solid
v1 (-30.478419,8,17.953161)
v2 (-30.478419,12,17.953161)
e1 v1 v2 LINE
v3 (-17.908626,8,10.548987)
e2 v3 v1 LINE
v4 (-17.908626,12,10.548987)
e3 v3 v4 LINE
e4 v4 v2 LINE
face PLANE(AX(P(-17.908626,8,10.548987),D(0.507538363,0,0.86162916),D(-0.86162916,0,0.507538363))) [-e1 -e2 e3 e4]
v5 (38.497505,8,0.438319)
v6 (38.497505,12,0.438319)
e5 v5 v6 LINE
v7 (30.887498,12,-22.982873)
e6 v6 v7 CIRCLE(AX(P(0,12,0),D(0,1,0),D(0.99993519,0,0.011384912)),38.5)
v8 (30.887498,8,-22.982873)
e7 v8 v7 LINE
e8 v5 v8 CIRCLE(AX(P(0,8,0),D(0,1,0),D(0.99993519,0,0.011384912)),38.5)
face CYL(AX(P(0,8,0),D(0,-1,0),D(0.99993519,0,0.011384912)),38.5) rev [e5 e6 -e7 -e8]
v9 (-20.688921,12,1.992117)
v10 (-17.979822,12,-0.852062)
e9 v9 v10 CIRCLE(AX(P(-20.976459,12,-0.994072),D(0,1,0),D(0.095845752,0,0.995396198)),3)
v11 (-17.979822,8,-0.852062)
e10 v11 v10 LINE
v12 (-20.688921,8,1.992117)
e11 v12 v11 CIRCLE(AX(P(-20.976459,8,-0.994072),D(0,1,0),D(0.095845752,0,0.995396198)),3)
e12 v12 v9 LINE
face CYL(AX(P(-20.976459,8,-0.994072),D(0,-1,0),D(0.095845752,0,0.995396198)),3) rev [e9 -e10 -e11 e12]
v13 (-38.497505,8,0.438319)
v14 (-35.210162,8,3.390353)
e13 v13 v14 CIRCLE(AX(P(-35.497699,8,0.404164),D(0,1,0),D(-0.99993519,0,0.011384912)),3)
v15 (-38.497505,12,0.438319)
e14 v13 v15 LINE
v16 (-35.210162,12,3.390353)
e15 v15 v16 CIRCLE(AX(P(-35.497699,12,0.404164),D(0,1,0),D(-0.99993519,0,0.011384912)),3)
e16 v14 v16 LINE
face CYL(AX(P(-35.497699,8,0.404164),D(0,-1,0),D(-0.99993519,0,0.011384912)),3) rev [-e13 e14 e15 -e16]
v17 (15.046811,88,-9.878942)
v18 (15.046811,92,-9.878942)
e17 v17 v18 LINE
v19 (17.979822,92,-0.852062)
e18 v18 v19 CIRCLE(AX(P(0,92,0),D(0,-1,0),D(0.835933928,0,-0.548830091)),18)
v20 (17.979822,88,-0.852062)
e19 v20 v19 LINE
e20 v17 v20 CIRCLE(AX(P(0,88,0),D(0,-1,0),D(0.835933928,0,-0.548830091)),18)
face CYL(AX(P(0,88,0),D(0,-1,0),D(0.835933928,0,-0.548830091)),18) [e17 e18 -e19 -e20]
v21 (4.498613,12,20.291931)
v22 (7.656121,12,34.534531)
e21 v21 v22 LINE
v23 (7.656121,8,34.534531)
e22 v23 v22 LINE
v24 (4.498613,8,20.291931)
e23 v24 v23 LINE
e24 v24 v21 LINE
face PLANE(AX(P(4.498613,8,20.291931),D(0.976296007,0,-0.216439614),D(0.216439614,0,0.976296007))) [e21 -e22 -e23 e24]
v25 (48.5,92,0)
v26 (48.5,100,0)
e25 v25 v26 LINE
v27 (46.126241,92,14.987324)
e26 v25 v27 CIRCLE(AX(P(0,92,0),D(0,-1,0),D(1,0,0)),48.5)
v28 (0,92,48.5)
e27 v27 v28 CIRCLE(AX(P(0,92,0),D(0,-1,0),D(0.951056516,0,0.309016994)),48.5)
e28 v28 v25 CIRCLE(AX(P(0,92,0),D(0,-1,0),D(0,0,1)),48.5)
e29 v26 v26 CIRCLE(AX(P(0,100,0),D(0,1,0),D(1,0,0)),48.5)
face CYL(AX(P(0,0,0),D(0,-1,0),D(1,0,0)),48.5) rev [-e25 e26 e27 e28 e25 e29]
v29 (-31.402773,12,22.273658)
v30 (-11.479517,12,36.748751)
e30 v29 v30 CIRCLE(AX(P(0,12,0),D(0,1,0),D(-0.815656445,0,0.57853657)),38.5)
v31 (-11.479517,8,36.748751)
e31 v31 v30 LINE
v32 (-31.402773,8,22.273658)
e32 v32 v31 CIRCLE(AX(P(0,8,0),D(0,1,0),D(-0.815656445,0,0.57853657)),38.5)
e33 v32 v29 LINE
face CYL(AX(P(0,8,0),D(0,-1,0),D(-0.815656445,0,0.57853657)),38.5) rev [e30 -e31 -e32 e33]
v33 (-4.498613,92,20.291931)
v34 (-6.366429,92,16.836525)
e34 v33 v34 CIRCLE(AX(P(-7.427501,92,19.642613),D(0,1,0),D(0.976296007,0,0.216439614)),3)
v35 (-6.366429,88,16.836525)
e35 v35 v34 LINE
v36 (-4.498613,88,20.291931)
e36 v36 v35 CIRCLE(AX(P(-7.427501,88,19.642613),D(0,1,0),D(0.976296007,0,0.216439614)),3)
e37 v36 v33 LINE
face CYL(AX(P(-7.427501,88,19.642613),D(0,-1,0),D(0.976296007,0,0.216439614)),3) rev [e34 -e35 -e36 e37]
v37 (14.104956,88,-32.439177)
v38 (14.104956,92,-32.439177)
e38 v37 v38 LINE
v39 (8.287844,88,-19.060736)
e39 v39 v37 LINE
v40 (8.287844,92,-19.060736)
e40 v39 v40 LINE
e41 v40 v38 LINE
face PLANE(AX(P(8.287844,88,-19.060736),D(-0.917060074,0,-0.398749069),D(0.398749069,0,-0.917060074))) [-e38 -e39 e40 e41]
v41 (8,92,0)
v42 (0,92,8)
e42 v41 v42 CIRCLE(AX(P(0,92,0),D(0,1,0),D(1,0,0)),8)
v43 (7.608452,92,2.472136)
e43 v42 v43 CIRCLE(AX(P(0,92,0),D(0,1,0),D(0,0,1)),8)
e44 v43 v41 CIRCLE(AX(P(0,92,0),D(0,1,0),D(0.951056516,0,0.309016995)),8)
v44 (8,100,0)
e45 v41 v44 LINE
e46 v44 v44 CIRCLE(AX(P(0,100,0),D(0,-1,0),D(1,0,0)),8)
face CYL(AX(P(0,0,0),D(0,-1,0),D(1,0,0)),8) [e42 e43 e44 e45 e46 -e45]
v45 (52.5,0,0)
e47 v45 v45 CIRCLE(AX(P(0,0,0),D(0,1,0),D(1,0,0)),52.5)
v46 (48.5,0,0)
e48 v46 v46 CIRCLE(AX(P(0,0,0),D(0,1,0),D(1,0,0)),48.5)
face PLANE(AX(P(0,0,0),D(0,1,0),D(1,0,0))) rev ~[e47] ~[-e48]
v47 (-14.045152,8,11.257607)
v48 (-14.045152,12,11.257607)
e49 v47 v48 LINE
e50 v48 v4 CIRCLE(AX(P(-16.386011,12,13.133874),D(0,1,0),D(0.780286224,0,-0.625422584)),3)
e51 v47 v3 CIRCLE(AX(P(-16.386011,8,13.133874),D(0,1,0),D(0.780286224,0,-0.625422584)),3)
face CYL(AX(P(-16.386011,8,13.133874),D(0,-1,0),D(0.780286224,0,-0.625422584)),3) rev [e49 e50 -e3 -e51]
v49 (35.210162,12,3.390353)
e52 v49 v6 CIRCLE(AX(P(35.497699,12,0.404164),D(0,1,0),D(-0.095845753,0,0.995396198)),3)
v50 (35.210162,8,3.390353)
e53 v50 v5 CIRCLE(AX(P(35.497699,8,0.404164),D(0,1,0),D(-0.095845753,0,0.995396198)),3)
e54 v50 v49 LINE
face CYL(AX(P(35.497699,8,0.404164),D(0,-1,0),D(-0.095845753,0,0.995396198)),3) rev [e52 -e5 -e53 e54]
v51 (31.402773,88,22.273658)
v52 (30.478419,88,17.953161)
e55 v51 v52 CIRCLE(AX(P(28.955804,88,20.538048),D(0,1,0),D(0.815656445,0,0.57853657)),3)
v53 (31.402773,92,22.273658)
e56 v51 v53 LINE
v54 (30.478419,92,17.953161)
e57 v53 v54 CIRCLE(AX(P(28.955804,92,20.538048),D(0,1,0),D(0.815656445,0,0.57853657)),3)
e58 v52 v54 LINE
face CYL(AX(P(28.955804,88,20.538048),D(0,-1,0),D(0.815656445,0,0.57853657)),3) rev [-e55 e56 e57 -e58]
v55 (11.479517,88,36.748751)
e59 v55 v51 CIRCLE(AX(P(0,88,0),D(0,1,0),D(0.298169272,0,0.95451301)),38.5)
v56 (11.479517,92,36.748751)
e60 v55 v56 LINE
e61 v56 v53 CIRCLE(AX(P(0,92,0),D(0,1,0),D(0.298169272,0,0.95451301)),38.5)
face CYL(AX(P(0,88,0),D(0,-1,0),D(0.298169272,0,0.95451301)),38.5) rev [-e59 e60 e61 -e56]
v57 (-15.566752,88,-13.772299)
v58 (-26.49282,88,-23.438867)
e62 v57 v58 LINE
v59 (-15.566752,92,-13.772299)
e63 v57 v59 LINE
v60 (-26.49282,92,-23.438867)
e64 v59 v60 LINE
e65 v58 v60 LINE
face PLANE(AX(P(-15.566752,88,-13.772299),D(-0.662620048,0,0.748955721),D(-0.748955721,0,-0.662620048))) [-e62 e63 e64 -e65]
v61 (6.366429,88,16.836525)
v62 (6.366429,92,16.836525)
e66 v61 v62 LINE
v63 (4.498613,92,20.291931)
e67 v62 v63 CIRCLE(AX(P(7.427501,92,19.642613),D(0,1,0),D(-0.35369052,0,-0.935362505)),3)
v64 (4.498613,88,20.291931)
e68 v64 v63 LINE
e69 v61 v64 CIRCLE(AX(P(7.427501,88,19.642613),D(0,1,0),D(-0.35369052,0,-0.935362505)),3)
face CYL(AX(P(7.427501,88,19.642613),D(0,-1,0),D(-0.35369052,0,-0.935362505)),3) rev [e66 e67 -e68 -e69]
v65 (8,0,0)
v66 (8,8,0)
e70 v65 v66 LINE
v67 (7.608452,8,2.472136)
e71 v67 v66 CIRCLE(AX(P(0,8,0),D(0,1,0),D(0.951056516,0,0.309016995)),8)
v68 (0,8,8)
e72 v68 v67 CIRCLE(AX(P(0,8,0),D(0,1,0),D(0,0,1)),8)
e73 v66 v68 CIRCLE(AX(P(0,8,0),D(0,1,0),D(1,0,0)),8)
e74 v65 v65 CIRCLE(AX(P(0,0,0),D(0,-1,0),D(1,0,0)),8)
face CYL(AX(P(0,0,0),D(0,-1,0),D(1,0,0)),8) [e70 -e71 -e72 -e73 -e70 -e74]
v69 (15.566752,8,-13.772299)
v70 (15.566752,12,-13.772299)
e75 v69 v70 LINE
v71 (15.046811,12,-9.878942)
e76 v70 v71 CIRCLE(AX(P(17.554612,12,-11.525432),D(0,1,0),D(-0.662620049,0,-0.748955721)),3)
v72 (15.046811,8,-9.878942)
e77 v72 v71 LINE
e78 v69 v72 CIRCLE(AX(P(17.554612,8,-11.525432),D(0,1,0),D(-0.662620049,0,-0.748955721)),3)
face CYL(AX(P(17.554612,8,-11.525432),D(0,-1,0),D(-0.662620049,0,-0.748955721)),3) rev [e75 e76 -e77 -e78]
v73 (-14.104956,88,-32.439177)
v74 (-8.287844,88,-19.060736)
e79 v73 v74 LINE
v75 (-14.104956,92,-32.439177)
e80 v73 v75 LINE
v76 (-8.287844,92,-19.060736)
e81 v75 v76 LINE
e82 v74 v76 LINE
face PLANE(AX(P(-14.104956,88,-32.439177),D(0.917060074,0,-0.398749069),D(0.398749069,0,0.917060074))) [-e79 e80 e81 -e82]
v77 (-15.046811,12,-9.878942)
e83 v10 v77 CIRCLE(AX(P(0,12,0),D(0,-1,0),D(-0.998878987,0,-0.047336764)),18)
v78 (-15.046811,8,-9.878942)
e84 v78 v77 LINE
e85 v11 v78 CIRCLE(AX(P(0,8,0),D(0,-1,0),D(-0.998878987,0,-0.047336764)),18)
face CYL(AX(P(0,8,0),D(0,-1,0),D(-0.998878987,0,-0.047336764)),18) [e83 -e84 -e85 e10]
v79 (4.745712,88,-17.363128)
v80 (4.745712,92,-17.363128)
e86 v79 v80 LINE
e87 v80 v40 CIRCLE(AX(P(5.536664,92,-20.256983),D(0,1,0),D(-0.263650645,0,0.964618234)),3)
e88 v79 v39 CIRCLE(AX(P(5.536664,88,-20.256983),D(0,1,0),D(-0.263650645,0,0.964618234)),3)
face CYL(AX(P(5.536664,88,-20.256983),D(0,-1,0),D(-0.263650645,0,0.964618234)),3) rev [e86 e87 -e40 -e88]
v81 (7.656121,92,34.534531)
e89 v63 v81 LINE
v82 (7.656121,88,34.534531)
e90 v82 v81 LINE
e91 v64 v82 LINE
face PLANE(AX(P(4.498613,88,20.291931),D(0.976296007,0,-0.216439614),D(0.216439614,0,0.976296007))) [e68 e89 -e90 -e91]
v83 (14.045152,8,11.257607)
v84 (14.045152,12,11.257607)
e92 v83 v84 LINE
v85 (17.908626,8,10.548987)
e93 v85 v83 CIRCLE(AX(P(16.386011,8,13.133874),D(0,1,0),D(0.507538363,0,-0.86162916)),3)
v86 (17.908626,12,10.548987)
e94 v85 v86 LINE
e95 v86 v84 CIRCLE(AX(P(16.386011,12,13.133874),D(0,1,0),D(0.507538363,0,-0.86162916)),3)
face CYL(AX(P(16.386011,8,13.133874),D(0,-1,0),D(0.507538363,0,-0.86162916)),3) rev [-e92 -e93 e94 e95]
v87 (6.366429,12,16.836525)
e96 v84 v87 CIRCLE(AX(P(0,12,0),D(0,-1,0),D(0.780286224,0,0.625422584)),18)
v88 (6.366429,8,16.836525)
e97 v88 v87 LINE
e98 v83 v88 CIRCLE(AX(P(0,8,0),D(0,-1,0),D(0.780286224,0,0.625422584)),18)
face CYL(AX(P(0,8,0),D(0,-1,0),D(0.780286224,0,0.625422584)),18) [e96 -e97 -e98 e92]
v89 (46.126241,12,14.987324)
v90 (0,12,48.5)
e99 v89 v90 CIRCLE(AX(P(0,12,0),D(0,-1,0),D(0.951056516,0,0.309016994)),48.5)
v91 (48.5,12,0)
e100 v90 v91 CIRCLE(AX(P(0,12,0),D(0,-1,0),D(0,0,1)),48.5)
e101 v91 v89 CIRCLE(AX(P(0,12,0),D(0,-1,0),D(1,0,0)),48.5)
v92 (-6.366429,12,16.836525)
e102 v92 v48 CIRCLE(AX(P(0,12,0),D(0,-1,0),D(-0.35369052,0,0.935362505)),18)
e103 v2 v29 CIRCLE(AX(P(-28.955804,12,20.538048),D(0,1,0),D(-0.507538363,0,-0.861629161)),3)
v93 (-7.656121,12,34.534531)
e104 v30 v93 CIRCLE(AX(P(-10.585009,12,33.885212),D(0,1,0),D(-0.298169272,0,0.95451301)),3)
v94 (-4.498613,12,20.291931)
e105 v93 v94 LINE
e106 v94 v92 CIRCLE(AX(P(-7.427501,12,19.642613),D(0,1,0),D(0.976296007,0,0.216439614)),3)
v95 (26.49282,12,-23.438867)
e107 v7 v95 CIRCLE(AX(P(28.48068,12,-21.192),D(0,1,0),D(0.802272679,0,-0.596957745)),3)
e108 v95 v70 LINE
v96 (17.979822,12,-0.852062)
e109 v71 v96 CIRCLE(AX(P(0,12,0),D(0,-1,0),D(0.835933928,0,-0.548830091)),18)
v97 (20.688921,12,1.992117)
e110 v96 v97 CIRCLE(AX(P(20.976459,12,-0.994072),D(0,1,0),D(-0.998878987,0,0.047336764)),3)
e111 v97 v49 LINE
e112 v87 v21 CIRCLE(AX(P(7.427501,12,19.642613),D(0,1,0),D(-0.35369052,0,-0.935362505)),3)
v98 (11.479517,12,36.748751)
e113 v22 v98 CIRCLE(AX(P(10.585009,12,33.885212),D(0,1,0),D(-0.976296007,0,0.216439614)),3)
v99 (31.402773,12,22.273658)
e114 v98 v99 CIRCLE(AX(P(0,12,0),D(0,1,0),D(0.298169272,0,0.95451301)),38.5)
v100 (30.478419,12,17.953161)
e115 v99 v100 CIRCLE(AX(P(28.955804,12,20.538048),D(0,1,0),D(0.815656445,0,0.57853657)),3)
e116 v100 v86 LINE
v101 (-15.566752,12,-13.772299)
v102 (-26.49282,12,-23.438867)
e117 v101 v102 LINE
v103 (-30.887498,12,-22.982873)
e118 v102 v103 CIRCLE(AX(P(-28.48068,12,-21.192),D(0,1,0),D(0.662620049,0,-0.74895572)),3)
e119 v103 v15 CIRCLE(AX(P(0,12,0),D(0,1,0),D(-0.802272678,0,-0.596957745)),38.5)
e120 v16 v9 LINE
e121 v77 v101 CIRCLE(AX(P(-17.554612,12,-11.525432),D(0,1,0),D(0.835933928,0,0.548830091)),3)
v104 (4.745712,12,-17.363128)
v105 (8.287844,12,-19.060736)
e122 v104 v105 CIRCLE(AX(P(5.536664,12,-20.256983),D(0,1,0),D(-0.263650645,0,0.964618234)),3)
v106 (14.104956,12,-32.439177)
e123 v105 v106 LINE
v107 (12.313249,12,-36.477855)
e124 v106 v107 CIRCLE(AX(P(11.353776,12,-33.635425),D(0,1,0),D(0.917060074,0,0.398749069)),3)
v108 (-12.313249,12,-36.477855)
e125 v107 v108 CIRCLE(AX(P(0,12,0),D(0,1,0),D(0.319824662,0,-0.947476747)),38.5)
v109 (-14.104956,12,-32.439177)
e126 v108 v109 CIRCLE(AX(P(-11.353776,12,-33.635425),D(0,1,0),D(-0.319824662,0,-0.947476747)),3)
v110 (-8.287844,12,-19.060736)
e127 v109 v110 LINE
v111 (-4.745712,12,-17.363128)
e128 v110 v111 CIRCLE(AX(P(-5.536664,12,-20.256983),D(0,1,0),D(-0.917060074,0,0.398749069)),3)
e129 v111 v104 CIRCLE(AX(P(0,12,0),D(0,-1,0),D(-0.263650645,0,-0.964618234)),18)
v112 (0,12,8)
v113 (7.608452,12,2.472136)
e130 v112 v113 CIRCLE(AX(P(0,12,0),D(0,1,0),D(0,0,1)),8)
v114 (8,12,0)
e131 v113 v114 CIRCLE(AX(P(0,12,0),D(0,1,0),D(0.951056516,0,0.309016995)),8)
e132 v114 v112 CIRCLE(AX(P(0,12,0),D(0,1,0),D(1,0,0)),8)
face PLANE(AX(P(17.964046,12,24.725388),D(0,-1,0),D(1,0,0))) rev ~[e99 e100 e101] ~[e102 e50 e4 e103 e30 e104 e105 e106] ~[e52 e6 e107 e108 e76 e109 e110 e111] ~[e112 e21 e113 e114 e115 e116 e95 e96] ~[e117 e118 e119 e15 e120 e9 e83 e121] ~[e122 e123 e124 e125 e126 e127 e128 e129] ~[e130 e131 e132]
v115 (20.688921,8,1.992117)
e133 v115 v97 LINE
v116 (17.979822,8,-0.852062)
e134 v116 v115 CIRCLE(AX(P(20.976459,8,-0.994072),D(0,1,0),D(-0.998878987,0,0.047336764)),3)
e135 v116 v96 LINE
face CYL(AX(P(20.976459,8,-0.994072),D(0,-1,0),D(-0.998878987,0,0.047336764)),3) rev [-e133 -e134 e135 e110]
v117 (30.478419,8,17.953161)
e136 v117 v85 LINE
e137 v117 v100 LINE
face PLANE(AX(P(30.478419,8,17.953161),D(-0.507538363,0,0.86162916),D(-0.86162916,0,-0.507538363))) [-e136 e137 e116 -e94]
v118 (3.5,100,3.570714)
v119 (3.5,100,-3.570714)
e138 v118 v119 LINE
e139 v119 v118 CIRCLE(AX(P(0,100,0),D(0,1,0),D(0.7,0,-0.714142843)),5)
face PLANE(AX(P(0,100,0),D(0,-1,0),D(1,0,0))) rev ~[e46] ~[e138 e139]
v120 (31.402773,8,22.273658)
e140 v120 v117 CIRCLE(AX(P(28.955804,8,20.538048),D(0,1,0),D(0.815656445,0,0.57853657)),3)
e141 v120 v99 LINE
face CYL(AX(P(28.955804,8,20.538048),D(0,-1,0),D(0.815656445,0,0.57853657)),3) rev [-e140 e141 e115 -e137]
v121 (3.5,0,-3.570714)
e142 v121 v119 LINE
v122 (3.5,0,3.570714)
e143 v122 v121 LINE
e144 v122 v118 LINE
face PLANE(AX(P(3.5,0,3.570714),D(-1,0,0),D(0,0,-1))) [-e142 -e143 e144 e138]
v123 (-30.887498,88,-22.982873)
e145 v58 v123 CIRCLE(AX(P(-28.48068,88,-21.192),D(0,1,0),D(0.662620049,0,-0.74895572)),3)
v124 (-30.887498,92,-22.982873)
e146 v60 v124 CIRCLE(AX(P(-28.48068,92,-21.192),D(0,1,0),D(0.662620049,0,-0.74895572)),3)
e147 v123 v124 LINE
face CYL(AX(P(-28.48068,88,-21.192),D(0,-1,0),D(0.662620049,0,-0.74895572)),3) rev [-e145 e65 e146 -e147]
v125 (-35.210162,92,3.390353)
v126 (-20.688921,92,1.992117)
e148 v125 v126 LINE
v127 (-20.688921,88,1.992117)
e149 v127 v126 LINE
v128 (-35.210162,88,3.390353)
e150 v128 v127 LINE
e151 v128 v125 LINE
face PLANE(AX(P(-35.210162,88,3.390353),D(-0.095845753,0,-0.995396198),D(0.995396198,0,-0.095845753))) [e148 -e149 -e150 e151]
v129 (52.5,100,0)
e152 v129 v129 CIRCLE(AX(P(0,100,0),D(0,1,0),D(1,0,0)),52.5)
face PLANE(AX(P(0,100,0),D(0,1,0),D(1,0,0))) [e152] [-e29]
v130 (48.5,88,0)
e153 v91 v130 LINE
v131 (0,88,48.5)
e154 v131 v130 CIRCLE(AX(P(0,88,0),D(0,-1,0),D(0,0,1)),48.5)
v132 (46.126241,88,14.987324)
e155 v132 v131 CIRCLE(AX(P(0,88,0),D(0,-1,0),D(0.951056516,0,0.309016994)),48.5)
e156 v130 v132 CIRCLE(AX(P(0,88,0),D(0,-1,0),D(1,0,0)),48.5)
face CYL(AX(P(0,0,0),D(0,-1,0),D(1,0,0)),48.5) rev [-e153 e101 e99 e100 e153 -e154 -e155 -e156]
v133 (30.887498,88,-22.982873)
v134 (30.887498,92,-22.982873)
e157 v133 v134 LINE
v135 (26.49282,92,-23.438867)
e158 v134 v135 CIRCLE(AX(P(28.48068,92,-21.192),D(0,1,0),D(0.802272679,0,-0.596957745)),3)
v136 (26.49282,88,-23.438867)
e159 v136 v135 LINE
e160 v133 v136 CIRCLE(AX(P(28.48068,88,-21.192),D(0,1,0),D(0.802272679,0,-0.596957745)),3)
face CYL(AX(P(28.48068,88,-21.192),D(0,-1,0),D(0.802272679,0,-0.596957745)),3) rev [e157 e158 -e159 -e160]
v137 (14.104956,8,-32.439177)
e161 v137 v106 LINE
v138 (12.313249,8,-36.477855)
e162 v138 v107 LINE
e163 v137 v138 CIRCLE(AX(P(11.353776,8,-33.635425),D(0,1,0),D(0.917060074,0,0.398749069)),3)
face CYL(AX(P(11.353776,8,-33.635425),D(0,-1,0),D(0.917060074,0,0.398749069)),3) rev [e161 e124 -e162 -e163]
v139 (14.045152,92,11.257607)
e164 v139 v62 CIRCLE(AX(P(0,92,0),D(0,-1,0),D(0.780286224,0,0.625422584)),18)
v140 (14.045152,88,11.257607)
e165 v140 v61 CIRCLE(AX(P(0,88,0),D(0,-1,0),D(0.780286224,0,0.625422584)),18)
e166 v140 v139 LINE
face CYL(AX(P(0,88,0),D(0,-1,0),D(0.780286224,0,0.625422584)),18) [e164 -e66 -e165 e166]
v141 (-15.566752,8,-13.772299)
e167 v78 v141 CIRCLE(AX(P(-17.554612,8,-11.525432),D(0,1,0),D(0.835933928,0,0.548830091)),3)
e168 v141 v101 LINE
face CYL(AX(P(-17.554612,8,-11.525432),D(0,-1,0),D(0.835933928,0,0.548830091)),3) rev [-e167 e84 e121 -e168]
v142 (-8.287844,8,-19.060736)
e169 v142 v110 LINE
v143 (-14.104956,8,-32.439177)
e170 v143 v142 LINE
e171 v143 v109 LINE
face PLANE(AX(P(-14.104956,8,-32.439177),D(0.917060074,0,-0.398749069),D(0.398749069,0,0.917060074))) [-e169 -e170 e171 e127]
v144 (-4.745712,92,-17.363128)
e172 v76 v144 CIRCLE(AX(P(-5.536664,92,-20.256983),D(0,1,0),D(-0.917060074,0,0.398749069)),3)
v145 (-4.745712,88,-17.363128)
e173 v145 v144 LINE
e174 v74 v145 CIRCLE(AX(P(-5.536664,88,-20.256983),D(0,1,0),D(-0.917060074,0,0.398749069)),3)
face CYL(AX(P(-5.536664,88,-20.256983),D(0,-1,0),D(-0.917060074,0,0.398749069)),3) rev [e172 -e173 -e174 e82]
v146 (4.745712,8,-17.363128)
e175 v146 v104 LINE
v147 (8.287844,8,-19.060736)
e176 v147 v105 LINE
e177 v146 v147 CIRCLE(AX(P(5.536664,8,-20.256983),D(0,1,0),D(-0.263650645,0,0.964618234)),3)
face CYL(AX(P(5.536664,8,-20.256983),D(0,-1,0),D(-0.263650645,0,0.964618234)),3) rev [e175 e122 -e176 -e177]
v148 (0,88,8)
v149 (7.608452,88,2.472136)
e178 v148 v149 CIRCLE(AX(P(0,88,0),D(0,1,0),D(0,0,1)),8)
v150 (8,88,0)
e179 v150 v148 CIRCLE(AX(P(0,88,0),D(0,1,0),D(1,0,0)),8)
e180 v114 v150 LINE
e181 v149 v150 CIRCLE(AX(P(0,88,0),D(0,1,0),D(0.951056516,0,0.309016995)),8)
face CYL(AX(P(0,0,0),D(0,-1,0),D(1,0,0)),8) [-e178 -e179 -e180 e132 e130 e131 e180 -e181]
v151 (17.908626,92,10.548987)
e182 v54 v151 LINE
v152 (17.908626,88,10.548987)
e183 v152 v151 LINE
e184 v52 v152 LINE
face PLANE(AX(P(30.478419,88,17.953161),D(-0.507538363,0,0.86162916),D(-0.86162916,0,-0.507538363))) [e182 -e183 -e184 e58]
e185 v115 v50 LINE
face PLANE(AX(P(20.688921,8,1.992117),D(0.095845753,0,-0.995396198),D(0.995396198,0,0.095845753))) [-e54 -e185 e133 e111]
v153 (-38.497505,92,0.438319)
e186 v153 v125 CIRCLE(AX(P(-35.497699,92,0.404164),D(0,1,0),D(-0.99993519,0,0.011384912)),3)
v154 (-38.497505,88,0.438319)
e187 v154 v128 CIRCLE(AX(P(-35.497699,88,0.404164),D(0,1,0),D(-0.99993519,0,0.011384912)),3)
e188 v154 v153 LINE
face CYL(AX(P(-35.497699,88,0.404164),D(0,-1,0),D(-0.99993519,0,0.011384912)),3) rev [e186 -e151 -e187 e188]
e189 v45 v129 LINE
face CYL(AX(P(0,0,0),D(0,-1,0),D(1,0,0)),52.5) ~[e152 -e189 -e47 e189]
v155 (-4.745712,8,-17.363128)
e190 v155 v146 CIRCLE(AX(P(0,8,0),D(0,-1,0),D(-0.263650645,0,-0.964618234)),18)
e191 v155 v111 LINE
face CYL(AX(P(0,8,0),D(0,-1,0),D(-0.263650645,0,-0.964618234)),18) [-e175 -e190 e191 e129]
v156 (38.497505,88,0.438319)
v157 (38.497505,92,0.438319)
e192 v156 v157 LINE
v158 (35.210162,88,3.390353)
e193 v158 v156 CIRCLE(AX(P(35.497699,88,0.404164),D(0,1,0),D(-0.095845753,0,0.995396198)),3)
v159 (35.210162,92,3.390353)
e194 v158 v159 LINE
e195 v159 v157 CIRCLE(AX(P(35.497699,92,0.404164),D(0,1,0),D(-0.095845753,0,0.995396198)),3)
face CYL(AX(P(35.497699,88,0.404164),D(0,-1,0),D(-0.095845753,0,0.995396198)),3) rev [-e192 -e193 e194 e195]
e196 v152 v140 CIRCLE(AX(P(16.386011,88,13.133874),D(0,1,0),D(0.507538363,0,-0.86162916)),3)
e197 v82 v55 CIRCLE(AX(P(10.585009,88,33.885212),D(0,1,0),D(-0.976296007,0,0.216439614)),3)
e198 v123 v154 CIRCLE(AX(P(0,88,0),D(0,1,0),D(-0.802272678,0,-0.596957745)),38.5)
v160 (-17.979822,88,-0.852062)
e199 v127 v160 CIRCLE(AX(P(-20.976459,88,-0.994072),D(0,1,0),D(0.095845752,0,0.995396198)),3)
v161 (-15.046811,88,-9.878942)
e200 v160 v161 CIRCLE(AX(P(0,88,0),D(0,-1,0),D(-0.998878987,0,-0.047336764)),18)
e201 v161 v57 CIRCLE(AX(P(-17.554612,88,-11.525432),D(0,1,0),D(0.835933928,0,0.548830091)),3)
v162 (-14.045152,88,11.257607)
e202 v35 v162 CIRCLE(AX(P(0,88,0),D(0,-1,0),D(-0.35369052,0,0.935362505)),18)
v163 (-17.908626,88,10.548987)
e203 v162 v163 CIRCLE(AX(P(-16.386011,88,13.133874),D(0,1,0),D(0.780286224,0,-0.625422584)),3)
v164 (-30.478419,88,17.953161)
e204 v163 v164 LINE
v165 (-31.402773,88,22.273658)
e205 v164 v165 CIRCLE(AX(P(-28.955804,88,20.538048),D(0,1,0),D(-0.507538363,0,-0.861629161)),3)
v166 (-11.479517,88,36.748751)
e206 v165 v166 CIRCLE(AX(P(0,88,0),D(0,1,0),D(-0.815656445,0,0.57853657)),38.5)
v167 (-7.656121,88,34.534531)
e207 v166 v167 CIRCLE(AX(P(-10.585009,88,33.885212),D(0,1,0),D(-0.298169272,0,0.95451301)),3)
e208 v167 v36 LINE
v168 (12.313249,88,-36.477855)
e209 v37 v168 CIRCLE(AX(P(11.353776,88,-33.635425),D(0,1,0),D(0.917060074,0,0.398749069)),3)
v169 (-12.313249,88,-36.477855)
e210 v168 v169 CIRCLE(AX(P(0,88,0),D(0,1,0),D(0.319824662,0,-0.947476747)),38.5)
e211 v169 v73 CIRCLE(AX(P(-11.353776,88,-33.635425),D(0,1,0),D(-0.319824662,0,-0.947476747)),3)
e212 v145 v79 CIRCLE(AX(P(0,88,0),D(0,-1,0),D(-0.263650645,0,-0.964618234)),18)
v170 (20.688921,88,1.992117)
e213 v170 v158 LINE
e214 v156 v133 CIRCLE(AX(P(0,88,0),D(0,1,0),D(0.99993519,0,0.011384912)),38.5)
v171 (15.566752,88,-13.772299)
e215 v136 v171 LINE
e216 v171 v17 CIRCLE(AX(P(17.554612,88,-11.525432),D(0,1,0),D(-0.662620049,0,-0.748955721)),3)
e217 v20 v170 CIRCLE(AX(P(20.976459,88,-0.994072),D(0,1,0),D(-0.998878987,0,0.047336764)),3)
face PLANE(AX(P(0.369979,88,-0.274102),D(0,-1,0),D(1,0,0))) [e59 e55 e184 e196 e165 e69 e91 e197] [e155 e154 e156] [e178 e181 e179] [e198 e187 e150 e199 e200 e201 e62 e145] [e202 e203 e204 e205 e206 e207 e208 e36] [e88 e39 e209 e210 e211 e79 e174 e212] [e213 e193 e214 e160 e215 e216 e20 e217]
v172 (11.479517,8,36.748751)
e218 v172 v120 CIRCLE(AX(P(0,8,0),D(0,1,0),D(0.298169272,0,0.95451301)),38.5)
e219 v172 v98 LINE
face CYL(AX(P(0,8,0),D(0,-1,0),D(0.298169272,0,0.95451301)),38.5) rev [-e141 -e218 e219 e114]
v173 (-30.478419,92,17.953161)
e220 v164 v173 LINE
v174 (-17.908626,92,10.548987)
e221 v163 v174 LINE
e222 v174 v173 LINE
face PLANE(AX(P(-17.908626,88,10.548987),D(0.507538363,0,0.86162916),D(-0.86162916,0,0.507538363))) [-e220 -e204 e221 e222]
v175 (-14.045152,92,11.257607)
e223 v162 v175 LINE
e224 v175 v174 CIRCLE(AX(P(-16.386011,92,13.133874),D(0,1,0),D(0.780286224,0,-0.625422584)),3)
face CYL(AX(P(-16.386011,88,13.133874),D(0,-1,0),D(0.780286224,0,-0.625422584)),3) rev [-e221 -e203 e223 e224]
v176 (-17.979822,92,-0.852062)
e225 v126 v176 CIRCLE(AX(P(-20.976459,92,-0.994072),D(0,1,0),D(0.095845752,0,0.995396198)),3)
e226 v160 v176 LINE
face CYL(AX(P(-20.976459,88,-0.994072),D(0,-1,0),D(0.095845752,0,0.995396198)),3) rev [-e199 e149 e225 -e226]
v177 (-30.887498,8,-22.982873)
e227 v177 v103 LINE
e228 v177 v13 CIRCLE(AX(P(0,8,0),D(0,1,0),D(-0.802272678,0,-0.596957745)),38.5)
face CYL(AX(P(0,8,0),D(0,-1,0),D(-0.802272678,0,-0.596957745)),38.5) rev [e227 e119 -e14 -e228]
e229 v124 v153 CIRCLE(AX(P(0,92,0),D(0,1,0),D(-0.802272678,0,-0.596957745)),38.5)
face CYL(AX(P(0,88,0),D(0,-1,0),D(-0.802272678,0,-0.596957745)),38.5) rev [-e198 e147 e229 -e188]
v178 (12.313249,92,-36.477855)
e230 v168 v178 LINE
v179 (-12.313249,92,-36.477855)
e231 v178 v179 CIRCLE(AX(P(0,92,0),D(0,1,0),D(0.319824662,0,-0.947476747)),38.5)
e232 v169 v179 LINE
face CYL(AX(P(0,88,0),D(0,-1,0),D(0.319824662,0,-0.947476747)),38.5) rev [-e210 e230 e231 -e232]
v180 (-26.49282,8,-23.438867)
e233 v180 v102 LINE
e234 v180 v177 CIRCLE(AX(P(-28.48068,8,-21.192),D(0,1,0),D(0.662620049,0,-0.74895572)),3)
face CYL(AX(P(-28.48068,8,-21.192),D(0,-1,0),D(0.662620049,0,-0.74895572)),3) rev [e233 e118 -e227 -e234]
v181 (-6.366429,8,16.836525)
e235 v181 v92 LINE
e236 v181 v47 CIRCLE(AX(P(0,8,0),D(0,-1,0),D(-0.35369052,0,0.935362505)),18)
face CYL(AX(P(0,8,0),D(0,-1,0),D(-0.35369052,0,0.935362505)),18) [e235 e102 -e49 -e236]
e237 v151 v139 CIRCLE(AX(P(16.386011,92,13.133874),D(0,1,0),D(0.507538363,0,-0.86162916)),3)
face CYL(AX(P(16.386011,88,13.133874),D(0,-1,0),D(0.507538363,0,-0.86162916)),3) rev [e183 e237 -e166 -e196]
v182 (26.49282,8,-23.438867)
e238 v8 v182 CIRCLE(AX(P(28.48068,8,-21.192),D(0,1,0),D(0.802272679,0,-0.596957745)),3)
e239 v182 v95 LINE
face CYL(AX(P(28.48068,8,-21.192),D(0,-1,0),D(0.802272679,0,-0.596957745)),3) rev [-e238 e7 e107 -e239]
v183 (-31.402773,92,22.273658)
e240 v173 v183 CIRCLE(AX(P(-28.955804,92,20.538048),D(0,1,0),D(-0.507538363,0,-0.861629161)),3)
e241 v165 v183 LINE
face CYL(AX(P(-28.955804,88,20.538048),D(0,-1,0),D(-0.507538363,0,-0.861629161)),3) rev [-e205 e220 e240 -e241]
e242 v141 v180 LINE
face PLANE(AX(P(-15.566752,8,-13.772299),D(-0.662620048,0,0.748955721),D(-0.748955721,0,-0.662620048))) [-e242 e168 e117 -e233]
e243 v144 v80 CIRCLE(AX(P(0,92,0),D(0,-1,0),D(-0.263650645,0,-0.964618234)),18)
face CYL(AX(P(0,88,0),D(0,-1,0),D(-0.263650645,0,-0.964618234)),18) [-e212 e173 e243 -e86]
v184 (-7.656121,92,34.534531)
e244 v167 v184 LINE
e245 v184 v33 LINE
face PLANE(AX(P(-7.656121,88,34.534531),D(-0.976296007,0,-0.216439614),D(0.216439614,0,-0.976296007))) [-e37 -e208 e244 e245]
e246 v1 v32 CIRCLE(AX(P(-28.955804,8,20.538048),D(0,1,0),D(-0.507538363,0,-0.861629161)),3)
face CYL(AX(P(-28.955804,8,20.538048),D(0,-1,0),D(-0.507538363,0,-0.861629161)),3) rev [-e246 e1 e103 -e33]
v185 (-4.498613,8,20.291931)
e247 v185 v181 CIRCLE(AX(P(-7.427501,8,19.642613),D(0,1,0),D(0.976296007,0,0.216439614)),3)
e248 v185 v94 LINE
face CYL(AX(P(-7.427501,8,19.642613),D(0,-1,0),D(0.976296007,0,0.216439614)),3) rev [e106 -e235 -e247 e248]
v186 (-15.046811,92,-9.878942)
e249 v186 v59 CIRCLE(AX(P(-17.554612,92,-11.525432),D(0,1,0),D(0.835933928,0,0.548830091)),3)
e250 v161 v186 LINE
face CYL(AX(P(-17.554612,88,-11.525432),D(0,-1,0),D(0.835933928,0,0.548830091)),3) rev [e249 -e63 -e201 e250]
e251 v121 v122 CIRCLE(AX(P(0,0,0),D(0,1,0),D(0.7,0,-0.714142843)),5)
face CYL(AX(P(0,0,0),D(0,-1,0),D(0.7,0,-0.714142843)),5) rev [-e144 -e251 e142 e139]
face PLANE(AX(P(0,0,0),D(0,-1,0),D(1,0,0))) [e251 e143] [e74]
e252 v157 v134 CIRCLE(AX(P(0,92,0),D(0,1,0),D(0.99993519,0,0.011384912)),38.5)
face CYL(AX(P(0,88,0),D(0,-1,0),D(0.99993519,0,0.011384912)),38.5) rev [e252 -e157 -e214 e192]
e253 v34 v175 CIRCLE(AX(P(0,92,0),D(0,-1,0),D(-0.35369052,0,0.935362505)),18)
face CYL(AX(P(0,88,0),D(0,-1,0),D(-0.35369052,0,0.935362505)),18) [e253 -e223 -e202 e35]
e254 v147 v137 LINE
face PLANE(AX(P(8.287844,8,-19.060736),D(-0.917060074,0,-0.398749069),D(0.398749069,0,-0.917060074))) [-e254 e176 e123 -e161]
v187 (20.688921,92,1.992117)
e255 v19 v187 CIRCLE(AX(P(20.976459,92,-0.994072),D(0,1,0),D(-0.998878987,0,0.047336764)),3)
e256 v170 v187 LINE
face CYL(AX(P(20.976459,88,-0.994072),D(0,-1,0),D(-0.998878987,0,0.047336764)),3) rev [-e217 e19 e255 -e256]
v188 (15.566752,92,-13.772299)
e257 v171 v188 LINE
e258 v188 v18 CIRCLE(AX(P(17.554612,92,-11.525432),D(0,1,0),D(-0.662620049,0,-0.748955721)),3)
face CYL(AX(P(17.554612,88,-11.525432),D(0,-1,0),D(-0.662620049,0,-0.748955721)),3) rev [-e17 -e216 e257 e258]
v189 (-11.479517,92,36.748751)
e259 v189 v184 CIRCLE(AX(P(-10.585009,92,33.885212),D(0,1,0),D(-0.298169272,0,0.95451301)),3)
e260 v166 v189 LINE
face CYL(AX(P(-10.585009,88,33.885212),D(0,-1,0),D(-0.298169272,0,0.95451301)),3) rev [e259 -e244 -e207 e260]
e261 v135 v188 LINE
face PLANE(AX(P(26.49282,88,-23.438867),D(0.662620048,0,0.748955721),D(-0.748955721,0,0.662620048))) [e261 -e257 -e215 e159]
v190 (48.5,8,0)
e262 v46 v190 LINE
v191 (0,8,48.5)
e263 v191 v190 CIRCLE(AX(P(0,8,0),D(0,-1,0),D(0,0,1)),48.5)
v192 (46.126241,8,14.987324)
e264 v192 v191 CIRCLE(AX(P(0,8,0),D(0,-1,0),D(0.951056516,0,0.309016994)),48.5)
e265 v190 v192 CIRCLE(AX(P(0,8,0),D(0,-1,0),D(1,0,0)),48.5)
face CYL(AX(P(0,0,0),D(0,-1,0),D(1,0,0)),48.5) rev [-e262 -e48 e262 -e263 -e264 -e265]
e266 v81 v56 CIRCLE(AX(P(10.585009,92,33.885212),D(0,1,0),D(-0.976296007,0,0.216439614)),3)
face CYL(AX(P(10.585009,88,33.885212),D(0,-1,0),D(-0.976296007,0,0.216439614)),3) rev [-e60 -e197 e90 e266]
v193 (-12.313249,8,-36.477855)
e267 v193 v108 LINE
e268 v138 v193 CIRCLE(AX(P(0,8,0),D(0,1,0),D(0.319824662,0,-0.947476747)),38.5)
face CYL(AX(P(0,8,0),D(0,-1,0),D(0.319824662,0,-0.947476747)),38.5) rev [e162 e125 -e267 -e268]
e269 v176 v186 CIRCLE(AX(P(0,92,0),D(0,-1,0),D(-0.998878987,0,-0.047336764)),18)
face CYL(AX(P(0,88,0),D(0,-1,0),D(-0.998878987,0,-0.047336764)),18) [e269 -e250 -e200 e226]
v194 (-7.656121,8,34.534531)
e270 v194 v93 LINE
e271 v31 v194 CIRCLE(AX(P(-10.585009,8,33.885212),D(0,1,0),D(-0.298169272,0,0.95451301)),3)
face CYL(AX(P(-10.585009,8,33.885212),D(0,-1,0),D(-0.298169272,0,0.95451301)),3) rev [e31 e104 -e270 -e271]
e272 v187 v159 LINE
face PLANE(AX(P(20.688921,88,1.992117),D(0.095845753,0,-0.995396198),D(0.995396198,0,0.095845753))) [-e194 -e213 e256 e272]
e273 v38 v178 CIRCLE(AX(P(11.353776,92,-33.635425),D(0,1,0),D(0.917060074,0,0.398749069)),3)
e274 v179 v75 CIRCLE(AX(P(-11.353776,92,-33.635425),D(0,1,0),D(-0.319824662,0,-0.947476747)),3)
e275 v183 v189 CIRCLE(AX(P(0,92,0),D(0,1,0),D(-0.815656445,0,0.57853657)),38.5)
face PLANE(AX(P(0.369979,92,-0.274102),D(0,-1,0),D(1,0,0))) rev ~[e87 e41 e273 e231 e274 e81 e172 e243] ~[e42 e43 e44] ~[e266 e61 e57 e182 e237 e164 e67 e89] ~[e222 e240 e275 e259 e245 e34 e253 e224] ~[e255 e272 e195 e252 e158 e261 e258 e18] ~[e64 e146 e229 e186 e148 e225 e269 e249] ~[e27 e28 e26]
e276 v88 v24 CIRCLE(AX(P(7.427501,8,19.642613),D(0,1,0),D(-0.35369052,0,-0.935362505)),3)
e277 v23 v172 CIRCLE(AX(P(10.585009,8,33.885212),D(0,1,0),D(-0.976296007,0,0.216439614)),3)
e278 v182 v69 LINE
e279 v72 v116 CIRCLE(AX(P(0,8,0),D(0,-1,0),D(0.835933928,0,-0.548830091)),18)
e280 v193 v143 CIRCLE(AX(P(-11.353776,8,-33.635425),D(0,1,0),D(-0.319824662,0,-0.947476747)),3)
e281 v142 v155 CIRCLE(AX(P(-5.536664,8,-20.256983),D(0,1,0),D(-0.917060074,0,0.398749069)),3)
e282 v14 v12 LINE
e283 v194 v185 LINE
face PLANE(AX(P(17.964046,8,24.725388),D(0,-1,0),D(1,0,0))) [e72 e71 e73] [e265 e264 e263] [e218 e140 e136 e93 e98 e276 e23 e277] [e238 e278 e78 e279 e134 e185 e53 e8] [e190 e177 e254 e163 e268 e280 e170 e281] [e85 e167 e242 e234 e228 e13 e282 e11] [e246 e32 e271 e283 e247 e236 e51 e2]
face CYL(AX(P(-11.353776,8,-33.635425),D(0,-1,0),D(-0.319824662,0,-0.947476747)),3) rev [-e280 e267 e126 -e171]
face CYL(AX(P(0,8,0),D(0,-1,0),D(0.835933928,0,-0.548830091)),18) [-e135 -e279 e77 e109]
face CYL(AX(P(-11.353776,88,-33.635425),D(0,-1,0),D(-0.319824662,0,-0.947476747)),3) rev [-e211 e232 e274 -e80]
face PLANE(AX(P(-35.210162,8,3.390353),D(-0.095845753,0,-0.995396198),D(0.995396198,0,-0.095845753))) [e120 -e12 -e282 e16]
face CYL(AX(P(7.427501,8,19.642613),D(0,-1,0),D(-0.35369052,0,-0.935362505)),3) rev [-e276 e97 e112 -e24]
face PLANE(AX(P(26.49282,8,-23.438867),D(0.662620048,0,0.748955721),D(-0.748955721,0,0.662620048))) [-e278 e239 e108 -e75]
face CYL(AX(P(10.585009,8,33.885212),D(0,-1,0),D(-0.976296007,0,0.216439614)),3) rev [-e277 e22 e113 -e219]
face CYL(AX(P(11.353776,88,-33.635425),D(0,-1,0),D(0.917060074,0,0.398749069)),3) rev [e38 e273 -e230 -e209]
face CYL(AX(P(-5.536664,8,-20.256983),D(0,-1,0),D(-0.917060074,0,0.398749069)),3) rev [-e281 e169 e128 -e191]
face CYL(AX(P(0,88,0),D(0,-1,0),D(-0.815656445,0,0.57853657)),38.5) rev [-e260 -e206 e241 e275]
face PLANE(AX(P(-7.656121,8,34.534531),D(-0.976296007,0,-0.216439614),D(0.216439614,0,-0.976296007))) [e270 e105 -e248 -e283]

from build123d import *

# Parameters (mm, degrees)
SKETCH1_R           = 52.5
SKETCH1_R_2         = 48.5
BOSS_EXTRUDE1_DEPTH = 100
SKETCH2_R           = 8
BOSS_EXTRUDE2_DEPTH = 100
BOSS_EXTRUDE3_START = -8
SKETCH2_3_R         = 48.5
SKETCH2_3_R_2       = 8
BOSS_EXTRUDE3_DEPTH = 4
BOSS_EXTRUDE4_START = -88
SKETCH2_4_R         = 48.5
SKETCH2_4_R_2       = 8
BOSS_EXTRUDE4_DEPTH = 4


with BuildPart() as part:
    # Sketch1 → Boss-Extrude1 (new body)
    with BuildSketch(Plane(origin=(0, 0, 0), x_dir=(1, 0, 0), z_dir=(0, 1, 0))):
        Circle(SKETCH1_R)
        Circle(SKETCH1_R_2, mode=Mode.SUBTRACT)
    extrude(amount=BOSS_EXTRUDE1_DEPTH)



with BuildPart() as body_2:
    # Sketch2 → Boss-Extrude2 (new body)
    with BuildSketch(Plane.XZ):
        Circle(SKETCH2_R)
        with BuildLine():
            ThreePointArc((3.5, -3.570714214), (-5, 0), (3.5, 3.570714214))
            Line((3.5, 3.570714214), (3.5, -3.570714214))
        make_face(mode=Mode.SUBTRACT)
    extrude(amount=-BOSS_EXTRUDE2_DEPTH)


with BuildPart() as part_1:
    add(part.part)

    add(body_2.part)  # Boss-Extrude3 merges body 2
    # Sketch2<3> → Boss-Extrude3 (add)
    with BuildSketch(Plane.XZ.offset(BOSS_EXTRUDE3_START)):
        Circle(SKETCH2_3_R)
        Circle(SKETCH2_3_R_2, mode=Mode.SUBTRACT)
        with BuildLine():
            Line((4.498612897, 20.291931451), (7.656121129, 34.53453068))
            ThreePointArc((7.656121129, 34.53453068), (9.081556968, 36.48129187), (11.479516965, 36.748750866))
            ThreePointArc((11.479516965, 36.748750866), (22.629732213, 31.147154283), (31.402773148, 22.273657954))
            ThreePointArc((31.402773148, 22.273657954), (31.889414918, 19.910413097), (30.4784189, 17.953160762))
            Line((30.4784189, 17.953160762), (17.908625798, 10.548986777))
            ThreePointArc((17.908625798, 10.548986777), (15.84479345, 10.183097432), (14.045152036, 11.257606507))
            ThreePointArc((14.045152036, 11.257606507), (10.580134541, 14.562305899), (6.366429359, 16.836525093))
            ThreePointArc((6.366429359, 16.836525093), (4.78839072, 18.216044222), (4.498612897, 20.291931451))
        make_face(mode=Mode.SUBTRACT)
        with BuildLine():
            ThreePointArc((-31.402773148, 22.273657954), (-22.629732213, 31.147154283), (-11.479516965, 36.748750866))
            ThreePointArc((-11.479516965, 36.748750866), (-9.081556968, 36.48129187), (-7.656121129, 34.53453068))
            Line((-7.656121129, 34.53453068), (-4.498612897, 20.291931451))
            ThreePointArc((-4.498612897, 20.291931451), (-4.78839072, 18.216044222), (-6.366429359, 16.836525093))
            ThreePointArc((-6.366429359, 16.836525093), (-10.580134541, 14.562305899), (-14.045152036, 11.257606507))
            ThreePointArc((-14.045152036, 11.257606507), (-15.84479345, 10.183097432), (-17.908625798, 10.548986777))
            Line((-17.908625798, 10.548986777), (-30.4784189, 17.953160762))
            ThreePointArc((-30.4784189, 17.953160762), (-31.889414918, 19.910413097), (-31.402773148, 22.273657954))
        make_face(mode=Mode.SUBTRACT)
        with BuildLine():
            Line((8.287843762, -19.060735709), (14.104955724, -32.439177302))
            ThreePointArc((14.104955724, -32.439177302), (14.096031424, -34.851990353), (12.313249487, -36.477854749))
            ThreePointArc((12.313249487, -36.477854749), (0, -38.5), (-12.313249487, -36.477854749))
            ThreePointArc((-12.313249487, -36.477854749), (-14.096031424, -34.851990353), (-14.104955724, -32.439177302))
            Line((-14.104955724, -32.439177302), (-8.287843762, -19.060735709))
            ThreePointArc((-8.287843762, -19.060735709), (-6.83323268, -17.551634794), (-4.745711605, -17.363128214))
            ThreePointArc((-4.745711605, -17.363128214), (0, -18), (4.745711605, -17.363128214))
            ThreePointArc((4.745711605, -17.363128214), (6.83323268, -17.551634794), (8.287843762, -19.060735709))
        make_face(mode=Mode.SUBTRACT)
        with BuildLine():
            Line((-15.566752332, -13.772299075), (-26.492819932, -23.438867123))
            ThreePointArc((-26.492819932, -23.438867123), (-28.790299268, -24.175979847), (-30.887498112, -22.982873197))
            ThreePointArc((-30.887498112, -22.982873197), (-36.615675877, -11.897154283), (-38.497504807, 0.438319126))
            ThreePointArc((-38.497504807, 0.438319126), (-37.502125795, 2.636265233), (-35.21016198, 3.390352984))
            Line((-35.21016198, 3.390352984), (-20.688921471, 1.992116557))
            ThreePointArc((-20.688921471, 1.992116557), (-18.804181667, 1.075037038), (-17.979821767, -0.852061747))
            ThreePointArc((-17.979821767, -0.852061747), (-17.119017293, -5.562305899), (-15.046810695, -9.87894164))
            ThreePointArc((-15.046810695, -9.87894164), (-14.581011618, -11.922543898), (-15.566752332, -13.772299075))
        make_face(mode=Mode.SUBTRACT)
        with BuildLine():
            Line((20.688921471, 1.992116557), (35.21016198, 3.390352984))
            ThreePointArc((35.21016198, 3.390352984), (37.502125795, 2.636265233), (38.497504807, 0.438319126))
            ThreePointArc((38.497504807, 0.438319126), (36.615675877, -11.897154283), (30.887498112, -22.982873197))
            ThreePointArc((30.887498112, -22.982873197), (28.790299268, -24.175979847), (26.492819932, -23.438867123))
            Line((26.492819932, -23.438867123), (15.566752332, -13.772299075))
            ThreePointArc((15.566752332, -13.772299075), (14.581011618, -11.922543898), (15.046810695, -9.87894164))
            ThreePointArc((15.046810695, -9.87894164), (17.119017293, -5.562305899), (17.979821767, -0.852061747))
            ThreePointArc((17.979821767, -0.852061747), (18.804181667, 1.075037038), (20.688921471, 1.992116557))
        make_face(mode=Mode.SUBTRACT)
    extrude(amount=-BOSS_EXTRUDE3_DEPTH)

    # Sketch2<4> → Boss-Extrude4 (add)
    with BuildSketch(Plane.XZ.offset(BOSS_EXTRUDE4_START)):
        Circle(SKETCH2_4_R)
        Circle(SKETCH2_4_R_2, mode=Mode.SUBTRACT)
        with BuildLine():
            Line((4.498612897, 20.291931451), (7.656121129, 34.53453068))
            ThreePointArc((7.656121129, 34.53453068), (9.081556968, 36.48129187), (11.479516965, 36.748750866))
            ThreePointArc((11.479516965, 36.748750866), (22.629732213, 31.147154283), (31.402773148, 22.273657954))
            ThreePointArc((31.402773148, 22.273657954), (31.889414918, 19.910413097), (30.4784189, 17.953160762))
            Line((30.4784189, 17.953160762), (17.908625798, 10.548986777))
            ThreePointArc((17.908625798, 10.548986777), (15.84479345, 10.183097432), (14.045152036, 11.257606507))
            ThreePointArc((14.045152036, 11.257606507), (10.580134541, 14.562305899), (6.366429359, 16.836525093))
            ThreePointArc((6.366429359, 16.836525093), (4.78839072, 18.216044222), (4.498612897, 20.291931451))
        make_face(mode=Mode.SUBTRACT)
        with BuildLine():
            ThreePointArc((-31.402773148, 22.273657954), (-22.629732213, 31.147154283), (-11.479516965, 36.748750866))
            ThreePointArc((-11.479516965, 36.748750866), (-9.081556968, 36.48129187), (-7.656121129, 34.53453068))
            Line((-7.656121129, 34.53453068), (-4.498612897, 20.291931451))
            ThreePointArc((-4.498612897, 20.291931451), (-4.78839072, 18.216044222), (-6.366429359, 16.836525093))
            ThreePointArc((-6.366429359, 16.836525093), (-10.580134541, 14.562305899), (-14.045152036, 11.257606507))
            ThreePointArc((-14.045152036, 11.257606507), (-15.84479345, 10.183097432), (-17.908625798, 10.548986777))
            Line((-17.908625798, 10.548986777), (-30.4784189, 17.953160762))
            ThreePointArc((-30.4784189, 17.953160762), (-31.889414918, 19.910413097), (-31.402773148, 22.273657954))
        make_face(mode=Mode.SUBTRACT)
        with BuildLine():
            Line((8.287843762, -19.060735709), (14.104955724, -32.439177302))
            ThreePointArc((14.104955724, -32.439177302), (14.096031424, -34.851990353), (12.313249487, -36.477854749))
            ThreePointArc((12.313249487, -36.477854749), (0, -38.5), (-12.313249487, -36.477854749))
            ThreePointArc((-12.313249487, -36.477854749), (-14.096031424, -34.851990353), (-14.104955724, -32.439177302))
            Line((-14.104955724, -32.439177302), (-8.287843762, -19.060735709))
            ThreePointArc((-8.287843762, -19.060735709), (-6.83323268, -17.551634794), (-4.745711605, -17.363128214))
            ThreePointArc((-4.745711605, -17.363128214), (0, -18), (4.745711605, -17.363128214))
            ThreePointArc((4.745711605, -17.363128214), (6.83323268, -17.551634794), (8.287843762, -19.060735709))
        make_face(mode=Mode.SUBTRACT)
        with BuildLine():
            Line((-15.566752332, -13.772299075), (-26.492819932, -23.438867123))
            ThreePointArc((-26.492819932, -23.438867123), (-28.790299268, -24.175979847), (-30.887498112, -22.982873197))
            ThreePointArc((-30.887498112, -22.982873197), (-36.615675877, -11.897154283), (-38.497504807, 0.438319126))
            ThreePointArc((-38.497504807, 0.438319126), (-37.502125795, 2.636265233), (-35.21016198, 3.390352984))
            Line((-35.21016198, 3.390352984), (-20.688921471, 1.992116557))
            ThreePointArc((-20.688921471, 1.992116557), (-18.804181667, 1.075037038), (-17.979821767, -0.852061747))
            ThreePointArc((-17.979821767, -0.852061747), (-17.119017293, -5.562305899), (-15.046810695, -9.87894164))
            ThreePointArc((-15.046810695, -9.87894164), (-14.581011618, -11.922543898), (-15.566752332, -13.772299075))
        make_face(mode=Mode.SUBTRACT)
        with BuildLine():
            Line((20.688921471, 1.992116557), (35.21016198, 3.390352984))
            ThreePointArc((35.21016198, 3.390352984), (37.502125795, 2.636265233), (38.497504807, 0.438319126))
            ThreePointArc((38.497504807, 0.438319126), (36.615675877, -11.897154283), (30.887498112, -22.982873197))
            ThreePointArc((30.887498112, -22.982873197), (28.790299268, -24.175979847), (26.492819932, -23.438867123))
            Line((26.492819932, -23.438867123), (15.566752332, -13.772299075))
            ThreePointArc((15.566752332, -13.772299075), (14.581011618, -11.922543898), (15.046810695, -9.87894164))
            ThreePointArc((15.046810695, -9.87894164), (17.119017293, -5.562305899), (17.979821767, -0.852061747))
            ThreePointArc((17.979821767, -0.852061747), (18.804181667, 1.075037038), (20.688921471, 1.992116557))
        make_face(mode=Mode.SUBTRACT)
    extrude(amount=-BOSS_EXTRUDE4_DEPTH)


solid = part_1.part
